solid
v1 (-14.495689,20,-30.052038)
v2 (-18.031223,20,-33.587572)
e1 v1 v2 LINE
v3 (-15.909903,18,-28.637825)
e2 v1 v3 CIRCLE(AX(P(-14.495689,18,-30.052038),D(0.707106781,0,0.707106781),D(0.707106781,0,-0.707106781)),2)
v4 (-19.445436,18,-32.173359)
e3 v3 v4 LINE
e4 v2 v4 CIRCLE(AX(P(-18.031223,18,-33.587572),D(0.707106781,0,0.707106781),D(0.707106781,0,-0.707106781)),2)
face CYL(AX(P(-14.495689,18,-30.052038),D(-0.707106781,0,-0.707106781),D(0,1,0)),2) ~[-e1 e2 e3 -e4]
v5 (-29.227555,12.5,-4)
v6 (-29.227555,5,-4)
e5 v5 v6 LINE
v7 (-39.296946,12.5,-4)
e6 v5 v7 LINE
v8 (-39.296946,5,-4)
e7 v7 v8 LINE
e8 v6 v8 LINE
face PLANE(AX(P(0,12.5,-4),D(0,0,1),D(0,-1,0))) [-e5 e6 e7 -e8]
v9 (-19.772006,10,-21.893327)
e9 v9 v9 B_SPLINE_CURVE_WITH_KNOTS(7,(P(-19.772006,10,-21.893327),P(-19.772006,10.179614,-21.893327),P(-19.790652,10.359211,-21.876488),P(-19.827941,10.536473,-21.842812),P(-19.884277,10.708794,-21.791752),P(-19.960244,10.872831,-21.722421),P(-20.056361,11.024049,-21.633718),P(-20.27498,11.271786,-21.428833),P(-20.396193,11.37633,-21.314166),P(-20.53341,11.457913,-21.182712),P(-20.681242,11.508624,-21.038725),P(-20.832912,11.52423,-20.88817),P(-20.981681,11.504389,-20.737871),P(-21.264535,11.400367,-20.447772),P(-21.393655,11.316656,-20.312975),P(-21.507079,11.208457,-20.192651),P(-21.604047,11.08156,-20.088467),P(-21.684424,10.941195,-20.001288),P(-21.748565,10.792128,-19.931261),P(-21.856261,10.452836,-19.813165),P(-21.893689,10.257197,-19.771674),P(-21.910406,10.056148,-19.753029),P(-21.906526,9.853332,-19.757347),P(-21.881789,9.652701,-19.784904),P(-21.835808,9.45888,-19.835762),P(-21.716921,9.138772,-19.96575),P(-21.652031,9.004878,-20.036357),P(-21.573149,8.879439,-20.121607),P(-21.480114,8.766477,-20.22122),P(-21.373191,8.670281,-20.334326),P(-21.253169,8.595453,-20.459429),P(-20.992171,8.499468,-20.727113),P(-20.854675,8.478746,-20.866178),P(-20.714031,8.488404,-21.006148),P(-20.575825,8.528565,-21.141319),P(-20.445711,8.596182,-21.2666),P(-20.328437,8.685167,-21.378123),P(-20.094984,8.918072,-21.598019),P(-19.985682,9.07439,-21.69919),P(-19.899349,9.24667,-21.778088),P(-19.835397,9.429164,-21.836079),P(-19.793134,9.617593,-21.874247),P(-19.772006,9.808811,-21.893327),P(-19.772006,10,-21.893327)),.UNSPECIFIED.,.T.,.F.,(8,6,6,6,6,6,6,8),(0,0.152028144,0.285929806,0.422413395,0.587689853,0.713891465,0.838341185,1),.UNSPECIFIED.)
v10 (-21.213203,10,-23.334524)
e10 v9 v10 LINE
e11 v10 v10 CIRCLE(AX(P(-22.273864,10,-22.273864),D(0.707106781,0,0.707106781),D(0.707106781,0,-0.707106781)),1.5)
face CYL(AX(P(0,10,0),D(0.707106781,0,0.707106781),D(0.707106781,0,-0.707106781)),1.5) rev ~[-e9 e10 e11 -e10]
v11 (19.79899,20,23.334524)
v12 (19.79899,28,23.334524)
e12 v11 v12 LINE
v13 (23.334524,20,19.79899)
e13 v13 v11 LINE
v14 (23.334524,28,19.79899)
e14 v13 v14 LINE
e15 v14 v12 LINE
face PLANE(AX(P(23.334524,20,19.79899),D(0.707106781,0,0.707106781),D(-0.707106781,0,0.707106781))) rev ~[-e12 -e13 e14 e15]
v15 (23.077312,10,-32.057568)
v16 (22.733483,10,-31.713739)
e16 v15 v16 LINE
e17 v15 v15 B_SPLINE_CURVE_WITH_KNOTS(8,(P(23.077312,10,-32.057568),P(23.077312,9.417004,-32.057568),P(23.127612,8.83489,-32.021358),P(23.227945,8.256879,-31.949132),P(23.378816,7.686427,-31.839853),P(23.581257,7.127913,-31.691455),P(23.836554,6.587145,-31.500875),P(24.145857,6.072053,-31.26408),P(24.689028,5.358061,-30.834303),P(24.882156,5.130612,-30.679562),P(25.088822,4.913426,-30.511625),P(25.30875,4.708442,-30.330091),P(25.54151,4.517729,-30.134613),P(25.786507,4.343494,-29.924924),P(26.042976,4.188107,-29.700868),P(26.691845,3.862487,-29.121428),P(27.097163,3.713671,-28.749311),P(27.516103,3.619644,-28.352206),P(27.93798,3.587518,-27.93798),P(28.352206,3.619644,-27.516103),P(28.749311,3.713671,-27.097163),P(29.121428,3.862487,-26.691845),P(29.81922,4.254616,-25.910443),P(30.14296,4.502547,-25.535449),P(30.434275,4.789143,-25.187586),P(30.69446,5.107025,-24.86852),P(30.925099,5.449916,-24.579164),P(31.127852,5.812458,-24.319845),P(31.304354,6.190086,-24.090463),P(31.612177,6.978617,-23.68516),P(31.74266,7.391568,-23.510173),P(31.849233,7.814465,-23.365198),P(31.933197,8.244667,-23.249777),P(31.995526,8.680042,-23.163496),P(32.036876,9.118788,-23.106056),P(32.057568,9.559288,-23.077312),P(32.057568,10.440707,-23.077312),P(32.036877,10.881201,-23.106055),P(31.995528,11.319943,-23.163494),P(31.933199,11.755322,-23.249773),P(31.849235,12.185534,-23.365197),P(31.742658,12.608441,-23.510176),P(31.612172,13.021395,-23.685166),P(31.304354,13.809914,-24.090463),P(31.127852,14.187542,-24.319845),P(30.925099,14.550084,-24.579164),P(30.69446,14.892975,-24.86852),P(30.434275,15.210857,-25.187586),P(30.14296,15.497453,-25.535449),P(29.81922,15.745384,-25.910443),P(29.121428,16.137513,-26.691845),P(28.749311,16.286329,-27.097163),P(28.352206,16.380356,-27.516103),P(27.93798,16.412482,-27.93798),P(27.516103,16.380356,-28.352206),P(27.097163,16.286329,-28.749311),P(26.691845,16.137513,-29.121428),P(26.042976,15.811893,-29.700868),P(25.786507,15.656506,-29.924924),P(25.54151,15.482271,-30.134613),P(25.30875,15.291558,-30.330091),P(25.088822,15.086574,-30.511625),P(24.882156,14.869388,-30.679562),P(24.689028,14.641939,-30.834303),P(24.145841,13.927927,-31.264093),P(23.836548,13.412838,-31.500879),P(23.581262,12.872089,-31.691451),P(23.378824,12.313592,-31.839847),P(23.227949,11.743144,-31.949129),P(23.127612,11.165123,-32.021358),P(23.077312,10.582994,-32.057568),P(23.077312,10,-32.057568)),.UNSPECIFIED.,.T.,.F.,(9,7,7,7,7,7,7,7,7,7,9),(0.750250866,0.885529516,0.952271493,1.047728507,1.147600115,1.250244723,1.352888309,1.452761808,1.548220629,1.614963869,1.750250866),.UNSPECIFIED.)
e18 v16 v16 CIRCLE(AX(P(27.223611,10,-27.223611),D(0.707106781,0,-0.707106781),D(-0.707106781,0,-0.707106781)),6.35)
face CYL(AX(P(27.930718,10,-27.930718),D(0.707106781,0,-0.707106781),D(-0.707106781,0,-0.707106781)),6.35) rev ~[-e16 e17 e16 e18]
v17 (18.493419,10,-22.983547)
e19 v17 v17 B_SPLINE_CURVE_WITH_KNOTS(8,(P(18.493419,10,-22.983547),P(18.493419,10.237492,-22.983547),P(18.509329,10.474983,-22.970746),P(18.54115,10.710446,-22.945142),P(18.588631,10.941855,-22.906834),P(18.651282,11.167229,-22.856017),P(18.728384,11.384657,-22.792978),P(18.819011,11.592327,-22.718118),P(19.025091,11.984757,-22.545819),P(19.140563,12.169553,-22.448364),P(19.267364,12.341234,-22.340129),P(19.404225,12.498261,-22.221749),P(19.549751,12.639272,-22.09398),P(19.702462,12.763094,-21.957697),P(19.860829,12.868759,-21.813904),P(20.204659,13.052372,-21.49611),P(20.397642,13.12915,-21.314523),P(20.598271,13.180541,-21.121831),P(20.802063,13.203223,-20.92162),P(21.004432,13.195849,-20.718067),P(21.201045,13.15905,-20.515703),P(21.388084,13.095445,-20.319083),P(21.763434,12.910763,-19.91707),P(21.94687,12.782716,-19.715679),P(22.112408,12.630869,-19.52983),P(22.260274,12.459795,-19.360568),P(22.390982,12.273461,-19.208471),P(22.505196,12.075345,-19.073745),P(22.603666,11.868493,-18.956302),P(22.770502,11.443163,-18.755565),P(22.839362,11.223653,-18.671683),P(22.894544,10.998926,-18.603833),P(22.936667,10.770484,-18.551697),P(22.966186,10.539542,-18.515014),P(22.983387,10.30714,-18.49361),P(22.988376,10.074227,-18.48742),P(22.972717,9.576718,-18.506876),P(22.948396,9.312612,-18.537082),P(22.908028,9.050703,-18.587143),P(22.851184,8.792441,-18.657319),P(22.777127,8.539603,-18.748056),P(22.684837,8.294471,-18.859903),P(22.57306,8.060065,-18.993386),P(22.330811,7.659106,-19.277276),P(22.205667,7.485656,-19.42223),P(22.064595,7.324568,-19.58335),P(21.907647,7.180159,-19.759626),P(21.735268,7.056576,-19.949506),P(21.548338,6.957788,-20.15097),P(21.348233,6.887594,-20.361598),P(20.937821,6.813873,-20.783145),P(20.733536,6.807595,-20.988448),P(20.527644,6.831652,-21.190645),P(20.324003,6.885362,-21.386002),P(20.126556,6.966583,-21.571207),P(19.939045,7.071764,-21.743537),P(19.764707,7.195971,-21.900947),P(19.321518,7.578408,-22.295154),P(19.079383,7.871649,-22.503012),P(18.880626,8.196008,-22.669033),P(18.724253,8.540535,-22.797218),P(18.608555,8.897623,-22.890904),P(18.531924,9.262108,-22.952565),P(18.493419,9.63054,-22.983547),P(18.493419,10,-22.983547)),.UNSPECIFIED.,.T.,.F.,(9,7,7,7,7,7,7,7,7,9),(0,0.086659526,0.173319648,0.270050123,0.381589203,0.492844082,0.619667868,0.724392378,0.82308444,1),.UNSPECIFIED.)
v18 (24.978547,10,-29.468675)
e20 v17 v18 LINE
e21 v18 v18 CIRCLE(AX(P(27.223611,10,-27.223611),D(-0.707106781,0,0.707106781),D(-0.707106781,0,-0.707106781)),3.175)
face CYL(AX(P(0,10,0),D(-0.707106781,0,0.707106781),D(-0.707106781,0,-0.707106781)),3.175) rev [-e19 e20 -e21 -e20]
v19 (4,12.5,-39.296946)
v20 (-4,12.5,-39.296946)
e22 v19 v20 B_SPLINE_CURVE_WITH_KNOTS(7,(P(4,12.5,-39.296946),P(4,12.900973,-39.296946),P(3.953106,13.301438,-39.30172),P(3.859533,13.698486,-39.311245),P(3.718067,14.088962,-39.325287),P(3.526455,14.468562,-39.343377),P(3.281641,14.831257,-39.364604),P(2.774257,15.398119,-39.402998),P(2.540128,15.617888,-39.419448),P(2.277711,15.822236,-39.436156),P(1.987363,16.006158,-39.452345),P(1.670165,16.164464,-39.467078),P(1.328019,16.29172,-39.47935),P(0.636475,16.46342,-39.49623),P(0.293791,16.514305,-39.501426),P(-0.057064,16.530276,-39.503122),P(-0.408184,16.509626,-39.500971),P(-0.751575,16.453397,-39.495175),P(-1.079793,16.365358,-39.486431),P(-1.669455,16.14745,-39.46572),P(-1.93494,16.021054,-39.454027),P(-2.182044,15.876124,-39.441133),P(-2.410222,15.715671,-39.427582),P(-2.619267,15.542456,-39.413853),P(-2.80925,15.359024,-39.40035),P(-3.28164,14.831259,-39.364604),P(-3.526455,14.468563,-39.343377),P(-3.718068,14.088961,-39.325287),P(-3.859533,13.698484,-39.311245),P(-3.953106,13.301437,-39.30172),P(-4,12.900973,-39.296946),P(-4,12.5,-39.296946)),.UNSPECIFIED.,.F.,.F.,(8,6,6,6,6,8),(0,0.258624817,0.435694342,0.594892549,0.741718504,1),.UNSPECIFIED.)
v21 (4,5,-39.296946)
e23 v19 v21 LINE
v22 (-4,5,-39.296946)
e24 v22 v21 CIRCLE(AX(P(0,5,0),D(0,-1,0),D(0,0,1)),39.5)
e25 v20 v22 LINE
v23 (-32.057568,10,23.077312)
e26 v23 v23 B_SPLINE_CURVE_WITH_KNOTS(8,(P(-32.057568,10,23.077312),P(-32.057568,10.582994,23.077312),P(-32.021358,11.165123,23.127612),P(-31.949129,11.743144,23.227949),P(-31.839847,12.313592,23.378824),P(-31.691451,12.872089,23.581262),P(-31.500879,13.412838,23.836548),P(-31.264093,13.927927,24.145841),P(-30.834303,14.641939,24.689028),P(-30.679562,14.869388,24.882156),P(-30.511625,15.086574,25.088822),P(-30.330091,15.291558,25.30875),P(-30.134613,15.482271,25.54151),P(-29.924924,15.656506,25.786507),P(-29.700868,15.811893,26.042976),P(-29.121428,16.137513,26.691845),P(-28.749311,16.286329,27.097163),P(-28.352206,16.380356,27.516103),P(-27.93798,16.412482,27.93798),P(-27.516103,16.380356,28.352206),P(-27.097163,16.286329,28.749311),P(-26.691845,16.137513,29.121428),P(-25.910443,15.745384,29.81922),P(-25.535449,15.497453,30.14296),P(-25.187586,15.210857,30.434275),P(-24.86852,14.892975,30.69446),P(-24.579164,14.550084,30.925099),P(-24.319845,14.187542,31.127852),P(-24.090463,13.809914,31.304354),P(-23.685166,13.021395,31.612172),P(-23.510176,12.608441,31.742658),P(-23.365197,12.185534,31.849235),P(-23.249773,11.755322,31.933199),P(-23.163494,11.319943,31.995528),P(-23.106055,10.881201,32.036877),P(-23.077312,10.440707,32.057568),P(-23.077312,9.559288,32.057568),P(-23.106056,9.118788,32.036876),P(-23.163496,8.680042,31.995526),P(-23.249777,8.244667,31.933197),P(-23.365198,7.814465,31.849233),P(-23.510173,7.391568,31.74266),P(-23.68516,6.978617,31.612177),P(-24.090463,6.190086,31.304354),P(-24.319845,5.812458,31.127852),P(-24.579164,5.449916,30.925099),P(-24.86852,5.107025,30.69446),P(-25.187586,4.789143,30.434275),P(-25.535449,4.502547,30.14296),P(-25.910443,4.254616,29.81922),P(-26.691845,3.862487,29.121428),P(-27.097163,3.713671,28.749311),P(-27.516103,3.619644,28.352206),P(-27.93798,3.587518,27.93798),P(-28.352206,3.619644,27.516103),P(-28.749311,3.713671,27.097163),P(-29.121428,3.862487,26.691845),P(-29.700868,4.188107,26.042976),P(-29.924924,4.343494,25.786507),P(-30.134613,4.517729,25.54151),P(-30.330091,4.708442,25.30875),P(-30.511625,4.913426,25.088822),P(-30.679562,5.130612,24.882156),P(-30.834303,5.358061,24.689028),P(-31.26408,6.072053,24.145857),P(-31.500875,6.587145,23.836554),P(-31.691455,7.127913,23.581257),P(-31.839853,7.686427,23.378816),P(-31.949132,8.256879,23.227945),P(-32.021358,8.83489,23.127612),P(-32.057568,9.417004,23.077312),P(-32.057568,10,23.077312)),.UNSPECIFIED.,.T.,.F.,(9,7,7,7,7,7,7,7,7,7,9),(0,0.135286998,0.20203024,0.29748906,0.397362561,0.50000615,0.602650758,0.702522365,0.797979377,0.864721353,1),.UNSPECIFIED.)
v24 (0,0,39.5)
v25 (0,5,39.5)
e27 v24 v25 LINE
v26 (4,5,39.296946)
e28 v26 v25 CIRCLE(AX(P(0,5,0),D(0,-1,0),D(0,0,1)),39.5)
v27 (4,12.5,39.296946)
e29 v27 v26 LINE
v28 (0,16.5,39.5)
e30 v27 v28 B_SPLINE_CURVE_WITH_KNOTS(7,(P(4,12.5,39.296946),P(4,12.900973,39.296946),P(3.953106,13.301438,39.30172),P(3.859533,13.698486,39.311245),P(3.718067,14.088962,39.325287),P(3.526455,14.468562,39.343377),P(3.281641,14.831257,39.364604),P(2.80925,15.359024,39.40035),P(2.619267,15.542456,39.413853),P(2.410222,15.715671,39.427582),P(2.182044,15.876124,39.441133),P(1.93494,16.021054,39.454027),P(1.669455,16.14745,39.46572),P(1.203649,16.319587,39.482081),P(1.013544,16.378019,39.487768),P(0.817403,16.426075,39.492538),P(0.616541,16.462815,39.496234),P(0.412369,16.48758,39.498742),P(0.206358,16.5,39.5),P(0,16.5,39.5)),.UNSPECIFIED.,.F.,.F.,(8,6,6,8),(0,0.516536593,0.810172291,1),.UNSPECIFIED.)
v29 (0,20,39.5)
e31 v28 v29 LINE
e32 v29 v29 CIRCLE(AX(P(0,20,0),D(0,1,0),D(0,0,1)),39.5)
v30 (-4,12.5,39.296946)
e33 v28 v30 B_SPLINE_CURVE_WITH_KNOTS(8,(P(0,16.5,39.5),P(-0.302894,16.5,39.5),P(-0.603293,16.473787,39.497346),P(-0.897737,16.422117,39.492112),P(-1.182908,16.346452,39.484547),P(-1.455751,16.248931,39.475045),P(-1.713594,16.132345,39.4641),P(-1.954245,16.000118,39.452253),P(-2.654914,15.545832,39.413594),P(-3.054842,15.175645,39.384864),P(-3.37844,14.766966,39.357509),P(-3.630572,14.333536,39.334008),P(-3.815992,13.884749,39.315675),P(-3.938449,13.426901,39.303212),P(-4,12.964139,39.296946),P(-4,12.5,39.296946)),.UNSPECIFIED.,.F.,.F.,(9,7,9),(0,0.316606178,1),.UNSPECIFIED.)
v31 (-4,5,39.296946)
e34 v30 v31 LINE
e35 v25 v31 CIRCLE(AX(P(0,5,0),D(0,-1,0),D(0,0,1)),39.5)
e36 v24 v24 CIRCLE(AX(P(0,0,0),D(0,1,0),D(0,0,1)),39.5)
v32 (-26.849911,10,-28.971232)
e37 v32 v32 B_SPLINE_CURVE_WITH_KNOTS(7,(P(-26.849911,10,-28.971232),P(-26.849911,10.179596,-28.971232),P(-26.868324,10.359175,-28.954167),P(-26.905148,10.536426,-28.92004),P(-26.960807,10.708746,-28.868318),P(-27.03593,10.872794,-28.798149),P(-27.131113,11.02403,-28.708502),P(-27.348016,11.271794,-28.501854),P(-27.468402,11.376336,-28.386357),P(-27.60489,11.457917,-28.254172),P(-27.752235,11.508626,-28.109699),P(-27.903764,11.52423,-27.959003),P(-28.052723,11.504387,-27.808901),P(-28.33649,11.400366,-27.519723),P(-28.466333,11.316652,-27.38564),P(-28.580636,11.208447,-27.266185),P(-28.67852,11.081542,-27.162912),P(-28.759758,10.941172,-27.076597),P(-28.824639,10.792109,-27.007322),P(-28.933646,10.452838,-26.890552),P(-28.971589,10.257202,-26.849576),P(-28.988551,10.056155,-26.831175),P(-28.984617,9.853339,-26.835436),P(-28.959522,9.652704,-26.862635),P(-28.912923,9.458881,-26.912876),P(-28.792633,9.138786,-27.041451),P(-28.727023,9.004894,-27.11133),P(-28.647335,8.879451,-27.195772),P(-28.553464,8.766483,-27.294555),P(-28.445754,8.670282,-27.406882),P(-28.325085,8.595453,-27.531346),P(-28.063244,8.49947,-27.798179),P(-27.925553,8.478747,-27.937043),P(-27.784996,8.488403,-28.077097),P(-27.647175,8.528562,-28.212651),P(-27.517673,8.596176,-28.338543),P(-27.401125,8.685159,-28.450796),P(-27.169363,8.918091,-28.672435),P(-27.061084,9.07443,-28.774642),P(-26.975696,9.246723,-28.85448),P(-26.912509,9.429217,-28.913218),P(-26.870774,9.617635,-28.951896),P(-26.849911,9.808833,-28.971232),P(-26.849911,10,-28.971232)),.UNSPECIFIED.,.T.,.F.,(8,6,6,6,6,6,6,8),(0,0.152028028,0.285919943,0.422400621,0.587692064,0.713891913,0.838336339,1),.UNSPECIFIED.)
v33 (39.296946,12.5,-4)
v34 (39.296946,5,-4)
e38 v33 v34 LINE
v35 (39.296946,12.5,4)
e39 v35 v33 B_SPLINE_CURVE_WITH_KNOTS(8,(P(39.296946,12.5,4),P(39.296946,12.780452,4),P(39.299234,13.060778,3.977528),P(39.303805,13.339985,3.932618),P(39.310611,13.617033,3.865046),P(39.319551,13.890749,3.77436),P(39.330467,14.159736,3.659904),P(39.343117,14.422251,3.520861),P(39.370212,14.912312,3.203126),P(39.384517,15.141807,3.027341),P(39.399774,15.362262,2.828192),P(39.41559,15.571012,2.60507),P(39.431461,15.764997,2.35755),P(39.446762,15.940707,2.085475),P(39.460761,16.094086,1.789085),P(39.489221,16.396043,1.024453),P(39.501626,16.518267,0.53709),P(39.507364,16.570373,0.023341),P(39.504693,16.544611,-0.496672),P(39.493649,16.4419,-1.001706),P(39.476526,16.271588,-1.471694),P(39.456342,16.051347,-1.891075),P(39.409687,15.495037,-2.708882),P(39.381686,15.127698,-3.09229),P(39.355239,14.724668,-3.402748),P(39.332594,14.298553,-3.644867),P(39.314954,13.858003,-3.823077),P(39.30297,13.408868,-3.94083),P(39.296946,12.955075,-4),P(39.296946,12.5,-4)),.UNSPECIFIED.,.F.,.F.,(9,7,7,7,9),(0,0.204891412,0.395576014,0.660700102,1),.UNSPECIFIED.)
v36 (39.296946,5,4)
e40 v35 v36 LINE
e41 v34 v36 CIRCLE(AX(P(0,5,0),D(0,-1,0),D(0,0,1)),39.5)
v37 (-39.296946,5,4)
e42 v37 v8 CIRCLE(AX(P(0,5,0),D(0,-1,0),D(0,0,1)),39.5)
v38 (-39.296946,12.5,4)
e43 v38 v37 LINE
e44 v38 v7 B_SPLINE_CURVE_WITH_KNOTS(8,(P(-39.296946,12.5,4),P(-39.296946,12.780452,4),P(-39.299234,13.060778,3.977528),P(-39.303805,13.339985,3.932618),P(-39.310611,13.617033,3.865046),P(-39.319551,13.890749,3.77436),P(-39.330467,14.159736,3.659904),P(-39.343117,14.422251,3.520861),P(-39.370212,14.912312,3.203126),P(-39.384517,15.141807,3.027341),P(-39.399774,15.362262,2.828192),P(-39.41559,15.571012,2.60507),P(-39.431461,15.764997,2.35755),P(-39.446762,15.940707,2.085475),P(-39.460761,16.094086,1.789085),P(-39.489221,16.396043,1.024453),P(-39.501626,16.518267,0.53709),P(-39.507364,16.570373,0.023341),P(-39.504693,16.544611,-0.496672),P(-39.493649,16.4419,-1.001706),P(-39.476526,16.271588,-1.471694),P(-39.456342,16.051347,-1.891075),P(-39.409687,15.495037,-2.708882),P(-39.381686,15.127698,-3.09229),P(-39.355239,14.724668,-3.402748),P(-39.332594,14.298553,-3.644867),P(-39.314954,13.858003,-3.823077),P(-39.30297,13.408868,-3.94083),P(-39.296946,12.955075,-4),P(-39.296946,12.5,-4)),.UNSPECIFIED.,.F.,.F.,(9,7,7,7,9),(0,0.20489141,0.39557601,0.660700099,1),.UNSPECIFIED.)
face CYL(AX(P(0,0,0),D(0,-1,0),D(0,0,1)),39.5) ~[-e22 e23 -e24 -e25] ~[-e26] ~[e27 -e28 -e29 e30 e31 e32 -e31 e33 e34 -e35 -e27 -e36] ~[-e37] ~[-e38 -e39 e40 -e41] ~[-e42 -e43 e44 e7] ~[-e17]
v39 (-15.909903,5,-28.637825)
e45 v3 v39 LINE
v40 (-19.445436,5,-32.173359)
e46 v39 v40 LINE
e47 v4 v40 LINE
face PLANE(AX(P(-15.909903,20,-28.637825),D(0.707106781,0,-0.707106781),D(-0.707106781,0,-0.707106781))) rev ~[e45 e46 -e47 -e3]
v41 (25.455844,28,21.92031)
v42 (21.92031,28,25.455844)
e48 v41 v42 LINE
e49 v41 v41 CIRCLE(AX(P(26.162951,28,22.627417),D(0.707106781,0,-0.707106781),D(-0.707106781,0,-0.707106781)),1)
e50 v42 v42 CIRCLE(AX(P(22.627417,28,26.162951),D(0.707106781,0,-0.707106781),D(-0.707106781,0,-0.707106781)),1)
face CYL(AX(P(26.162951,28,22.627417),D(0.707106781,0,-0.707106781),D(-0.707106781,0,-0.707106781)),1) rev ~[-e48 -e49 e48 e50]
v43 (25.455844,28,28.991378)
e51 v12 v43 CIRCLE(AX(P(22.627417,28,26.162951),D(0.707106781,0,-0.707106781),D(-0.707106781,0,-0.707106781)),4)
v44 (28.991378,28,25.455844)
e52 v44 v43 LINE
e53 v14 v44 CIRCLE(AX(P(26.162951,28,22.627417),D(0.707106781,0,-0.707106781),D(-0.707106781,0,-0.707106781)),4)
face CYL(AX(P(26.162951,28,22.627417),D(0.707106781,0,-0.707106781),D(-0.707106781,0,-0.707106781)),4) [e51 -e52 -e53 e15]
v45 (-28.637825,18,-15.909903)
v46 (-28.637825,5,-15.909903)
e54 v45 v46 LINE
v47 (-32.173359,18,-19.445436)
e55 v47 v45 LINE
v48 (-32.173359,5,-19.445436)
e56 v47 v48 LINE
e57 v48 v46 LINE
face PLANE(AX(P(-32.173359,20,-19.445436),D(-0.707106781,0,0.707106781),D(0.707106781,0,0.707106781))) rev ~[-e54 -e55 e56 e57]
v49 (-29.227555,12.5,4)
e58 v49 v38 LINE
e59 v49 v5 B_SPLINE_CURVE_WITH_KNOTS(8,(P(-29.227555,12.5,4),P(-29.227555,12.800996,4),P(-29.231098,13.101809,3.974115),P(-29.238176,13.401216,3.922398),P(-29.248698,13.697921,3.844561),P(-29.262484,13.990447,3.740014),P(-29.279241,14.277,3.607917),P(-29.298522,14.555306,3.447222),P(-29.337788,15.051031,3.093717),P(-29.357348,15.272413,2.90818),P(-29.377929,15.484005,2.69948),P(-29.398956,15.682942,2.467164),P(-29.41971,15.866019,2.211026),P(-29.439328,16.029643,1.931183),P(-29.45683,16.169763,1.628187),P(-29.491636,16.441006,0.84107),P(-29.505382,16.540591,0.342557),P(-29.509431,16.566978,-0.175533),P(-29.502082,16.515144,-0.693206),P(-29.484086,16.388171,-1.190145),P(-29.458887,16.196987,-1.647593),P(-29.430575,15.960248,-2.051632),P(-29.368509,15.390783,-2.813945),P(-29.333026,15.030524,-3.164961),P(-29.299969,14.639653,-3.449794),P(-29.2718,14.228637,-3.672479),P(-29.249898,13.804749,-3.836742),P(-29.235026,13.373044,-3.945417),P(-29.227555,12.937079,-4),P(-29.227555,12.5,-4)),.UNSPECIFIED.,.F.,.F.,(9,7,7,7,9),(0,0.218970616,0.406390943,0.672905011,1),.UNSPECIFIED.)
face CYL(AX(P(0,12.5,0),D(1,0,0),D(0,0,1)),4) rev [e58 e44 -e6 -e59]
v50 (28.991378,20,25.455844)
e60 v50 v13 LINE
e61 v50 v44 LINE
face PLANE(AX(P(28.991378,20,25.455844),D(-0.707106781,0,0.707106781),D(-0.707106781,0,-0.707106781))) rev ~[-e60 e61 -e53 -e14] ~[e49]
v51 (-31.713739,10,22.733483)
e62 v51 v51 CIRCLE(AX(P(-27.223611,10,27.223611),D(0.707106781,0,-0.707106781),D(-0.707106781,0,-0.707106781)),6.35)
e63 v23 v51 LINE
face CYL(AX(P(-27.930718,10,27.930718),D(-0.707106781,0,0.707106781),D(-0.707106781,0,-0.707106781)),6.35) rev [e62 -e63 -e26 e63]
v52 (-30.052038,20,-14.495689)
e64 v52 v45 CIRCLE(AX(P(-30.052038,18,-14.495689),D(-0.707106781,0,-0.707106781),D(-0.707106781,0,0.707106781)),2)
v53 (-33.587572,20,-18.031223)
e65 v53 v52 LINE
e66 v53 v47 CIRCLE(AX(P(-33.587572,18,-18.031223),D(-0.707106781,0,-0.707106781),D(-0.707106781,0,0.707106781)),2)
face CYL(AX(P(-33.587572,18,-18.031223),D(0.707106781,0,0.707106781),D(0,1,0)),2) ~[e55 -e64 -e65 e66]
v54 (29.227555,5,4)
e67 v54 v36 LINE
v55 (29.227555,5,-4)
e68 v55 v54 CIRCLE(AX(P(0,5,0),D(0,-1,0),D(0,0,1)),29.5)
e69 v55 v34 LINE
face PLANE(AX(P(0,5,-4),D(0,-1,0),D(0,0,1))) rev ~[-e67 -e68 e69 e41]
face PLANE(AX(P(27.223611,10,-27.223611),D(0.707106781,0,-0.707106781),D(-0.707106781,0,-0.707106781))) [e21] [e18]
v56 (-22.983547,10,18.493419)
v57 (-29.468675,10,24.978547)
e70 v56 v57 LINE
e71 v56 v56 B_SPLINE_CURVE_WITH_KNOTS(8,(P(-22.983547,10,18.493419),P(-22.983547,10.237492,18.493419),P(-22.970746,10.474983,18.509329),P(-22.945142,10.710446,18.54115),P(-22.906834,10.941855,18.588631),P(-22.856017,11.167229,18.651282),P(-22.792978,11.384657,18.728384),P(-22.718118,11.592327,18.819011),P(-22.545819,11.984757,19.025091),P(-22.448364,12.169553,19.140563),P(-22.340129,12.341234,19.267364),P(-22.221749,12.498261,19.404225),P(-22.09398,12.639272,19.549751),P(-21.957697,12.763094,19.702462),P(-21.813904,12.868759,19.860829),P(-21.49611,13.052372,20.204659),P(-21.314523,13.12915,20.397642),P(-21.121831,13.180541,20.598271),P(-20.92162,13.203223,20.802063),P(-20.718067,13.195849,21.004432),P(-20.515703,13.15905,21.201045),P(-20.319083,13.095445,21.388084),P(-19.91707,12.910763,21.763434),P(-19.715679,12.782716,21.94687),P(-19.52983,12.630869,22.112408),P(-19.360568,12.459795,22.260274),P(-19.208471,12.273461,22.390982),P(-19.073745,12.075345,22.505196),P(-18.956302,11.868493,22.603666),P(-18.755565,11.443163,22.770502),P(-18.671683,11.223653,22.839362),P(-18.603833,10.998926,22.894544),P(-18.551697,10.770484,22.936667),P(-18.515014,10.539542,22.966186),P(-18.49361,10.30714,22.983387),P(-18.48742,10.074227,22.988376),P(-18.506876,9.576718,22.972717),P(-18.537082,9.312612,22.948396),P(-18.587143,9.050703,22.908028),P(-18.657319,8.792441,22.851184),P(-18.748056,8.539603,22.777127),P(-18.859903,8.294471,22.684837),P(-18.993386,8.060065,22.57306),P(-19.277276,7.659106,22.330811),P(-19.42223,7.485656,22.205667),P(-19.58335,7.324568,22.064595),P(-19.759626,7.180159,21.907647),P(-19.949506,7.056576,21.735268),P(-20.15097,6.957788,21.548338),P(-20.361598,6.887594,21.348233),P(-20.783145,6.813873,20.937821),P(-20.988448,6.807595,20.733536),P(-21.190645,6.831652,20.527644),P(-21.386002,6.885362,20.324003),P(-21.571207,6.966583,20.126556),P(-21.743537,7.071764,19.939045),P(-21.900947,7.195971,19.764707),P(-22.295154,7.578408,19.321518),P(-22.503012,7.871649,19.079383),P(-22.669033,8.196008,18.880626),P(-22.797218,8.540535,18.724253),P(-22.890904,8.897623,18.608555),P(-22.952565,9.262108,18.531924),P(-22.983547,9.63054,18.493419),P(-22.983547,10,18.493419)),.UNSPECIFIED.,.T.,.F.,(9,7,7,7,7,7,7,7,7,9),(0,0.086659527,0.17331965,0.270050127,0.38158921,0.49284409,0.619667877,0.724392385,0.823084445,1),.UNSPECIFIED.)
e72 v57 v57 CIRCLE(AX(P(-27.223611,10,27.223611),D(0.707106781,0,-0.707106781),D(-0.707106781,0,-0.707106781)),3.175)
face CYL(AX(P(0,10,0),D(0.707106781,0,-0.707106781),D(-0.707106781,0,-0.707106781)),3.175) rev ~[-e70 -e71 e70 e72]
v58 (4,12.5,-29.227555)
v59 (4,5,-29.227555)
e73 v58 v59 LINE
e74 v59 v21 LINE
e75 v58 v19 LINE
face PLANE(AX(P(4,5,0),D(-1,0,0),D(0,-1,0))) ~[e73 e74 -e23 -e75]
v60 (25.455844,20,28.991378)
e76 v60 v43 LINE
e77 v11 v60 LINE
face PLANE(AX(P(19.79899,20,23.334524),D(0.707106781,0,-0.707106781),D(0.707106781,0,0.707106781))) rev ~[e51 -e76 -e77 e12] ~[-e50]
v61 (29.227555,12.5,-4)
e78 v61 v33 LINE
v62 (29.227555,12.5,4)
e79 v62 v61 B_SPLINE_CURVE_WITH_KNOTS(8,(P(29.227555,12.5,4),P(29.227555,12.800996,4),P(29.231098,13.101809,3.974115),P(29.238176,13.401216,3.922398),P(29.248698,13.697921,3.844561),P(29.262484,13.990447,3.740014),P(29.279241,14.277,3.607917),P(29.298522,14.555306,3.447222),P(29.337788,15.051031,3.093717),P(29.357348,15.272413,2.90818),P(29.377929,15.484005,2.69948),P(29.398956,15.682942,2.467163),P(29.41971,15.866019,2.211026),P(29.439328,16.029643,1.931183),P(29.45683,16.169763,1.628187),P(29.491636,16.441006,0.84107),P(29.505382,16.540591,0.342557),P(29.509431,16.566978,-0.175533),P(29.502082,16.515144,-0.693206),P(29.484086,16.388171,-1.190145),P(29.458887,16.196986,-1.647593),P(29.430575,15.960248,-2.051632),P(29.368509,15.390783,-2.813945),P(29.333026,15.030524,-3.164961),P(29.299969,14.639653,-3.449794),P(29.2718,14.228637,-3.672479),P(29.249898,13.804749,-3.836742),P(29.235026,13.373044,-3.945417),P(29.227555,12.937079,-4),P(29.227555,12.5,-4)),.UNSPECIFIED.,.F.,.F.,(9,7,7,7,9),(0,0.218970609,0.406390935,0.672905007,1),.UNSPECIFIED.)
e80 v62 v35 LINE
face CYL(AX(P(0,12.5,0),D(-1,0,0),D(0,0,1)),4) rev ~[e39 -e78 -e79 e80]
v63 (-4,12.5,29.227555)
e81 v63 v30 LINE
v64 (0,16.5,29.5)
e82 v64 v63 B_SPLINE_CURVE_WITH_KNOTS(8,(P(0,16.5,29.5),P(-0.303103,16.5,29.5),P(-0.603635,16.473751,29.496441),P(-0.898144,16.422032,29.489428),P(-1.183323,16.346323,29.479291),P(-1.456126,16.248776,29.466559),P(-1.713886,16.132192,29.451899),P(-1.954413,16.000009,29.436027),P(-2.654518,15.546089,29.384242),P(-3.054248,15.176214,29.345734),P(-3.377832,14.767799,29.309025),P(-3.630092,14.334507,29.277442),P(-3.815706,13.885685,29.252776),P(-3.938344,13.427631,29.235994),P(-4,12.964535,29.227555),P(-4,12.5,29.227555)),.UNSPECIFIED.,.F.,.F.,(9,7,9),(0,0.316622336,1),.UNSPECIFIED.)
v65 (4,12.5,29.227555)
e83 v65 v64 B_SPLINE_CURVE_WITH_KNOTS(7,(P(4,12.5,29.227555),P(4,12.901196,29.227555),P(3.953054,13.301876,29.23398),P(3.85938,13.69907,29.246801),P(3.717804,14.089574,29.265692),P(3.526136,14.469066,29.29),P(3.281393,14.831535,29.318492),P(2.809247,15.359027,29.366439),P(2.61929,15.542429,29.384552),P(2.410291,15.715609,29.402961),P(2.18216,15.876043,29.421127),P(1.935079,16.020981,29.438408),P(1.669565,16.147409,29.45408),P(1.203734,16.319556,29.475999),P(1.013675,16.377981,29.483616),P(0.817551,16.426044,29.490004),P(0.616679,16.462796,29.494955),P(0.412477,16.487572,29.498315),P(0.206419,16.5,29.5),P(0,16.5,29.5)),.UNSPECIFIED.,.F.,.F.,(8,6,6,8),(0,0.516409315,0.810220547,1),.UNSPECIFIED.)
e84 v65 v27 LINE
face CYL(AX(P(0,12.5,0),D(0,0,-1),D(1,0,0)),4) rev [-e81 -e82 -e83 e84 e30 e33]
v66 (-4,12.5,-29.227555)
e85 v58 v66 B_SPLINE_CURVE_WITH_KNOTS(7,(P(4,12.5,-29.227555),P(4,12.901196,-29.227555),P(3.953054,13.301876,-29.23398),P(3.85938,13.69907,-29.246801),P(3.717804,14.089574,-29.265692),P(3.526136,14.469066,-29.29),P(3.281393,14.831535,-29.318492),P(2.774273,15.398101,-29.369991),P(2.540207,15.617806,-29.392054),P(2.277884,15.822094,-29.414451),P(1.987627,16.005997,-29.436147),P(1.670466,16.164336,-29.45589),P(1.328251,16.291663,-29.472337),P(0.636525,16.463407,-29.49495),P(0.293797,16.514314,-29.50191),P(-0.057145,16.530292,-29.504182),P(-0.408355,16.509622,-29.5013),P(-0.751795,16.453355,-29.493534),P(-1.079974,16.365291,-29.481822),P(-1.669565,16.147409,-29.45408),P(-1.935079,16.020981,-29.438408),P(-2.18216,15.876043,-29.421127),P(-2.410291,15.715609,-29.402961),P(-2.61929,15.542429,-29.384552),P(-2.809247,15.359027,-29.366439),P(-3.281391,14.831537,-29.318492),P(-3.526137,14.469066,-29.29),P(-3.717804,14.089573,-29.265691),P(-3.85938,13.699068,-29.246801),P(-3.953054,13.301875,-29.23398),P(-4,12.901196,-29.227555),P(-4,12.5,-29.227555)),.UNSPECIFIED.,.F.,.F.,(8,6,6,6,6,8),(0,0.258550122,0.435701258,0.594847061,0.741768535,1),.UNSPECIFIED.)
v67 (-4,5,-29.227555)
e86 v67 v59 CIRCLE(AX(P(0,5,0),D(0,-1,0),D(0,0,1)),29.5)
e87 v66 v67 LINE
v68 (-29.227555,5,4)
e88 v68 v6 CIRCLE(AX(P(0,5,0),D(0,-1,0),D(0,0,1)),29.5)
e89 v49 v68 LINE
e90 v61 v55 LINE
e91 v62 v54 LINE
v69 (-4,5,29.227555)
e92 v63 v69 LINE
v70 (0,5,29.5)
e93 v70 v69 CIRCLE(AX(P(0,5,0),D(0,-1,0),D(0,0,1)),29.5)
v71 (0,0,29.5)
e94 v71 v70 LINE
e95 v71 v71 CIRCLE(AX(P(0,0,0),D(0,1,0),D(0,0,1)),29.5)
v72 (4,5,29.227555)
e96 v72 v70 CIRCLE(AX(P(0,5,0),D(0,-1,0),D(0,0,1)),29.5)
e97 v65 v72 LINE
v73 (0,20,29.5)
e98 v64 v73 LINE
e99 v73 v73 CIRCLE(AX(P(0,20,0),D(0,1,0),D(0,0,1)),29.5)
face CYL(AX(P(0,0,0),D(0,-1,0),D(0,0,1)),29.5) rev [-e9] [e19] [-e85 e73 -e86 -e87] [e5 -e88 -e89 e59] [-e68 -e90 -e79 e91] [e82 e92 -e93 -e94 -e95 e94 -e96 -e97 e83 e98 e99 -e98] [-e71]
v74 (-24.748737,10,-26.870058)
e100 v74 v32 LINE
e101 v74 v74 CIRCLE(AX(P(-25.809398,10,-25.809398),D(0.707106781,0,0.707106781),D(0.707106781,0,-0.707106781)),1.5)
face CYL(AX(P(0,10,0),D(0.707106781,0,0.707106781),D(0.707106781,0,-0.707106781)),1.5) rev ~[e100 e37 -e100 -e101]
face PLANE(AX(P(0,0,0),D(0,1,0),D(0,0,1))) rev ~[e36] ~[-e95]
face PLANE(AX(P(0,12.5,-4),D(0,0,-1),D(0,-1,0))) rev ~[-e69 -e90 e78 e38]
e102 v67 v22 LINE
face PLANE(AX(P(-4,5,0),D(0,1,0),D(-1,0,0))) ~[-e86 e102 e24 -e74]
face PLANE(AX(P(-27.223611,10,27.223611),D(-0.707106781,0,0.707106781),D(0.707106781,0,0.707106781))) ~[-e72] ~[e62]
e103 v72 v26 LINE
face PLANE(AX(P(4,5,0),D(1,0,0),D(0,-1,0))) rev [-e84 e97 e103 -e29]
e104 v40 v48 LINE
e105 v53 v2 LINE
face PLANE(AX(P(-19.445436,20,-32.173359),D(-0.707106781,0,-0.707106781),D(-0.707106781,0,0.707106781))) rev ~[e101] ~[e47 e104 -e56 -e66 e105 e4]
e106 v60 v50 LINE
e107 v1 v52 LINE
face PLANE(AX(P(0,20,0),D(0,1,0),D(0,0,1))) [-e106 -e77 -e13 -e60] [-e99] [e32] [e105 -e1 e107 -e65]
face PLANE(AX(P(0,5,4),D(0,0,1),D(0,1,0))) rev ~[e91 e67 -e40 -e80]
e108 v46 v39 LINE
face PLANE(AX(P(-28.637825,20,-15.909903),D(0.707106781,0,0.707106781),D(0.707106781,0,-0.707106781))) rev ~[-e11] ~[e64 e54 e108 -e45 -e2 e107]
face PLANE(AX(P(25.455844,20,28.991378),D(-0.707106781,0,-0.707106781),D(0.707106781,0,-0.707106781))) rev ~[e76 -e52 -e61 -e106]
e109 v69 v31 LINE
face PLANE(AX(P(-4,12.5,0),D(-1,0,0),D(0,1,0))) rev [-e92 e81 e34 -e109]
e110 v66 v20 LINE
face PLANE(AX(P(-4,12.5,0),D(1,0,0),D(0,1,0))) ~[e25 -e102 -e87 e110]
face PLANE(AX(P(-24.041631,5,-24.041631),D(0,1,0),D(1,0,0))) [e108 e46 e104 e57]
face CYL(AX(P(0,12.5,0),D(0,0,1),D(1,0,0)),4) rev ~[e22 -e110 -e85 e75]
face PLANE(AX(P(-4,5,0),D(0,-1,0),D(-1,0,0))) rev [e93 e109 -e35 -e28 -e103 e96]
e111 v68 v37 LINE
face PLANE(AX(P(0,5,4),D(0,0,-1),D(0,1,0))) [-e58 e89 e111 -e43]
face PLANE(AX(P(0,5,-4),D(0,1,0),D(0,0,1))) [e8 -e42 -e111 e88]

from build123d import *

# Parameters (mm, degrees)
SKETCH1_R               = 39.5
SKETCH1_R_2             = 29.5
BOSS_EXTRUDE1_DEPTH     = 20
CUT_EXTRUDE1_DEPTH      = 60.333801496
CUT_EXTRUDE2_DEPTH      = 60.333801663
CUT_EXTRUDE3_REACH      = 61.334
CUT_EXTRUDE3_END_RADIUS = 39.5
SKETCH4_R               = 3.175
CUT_EXTRUDE4_REACH      = 61.334
CUT_EXTRUDE4_END_RADIUS = 39.5
SKETCH4_2_R             = 3.175
BOSS_EXTRUDE2_DEPTH     = 13
CUT_EXTRUDE7_REACH      = 69.045
CUT_EXTRUDE8_REACH      = 68.559
SKETCH7_R               = 1
SKETCH8_R               = 6.35
CUT_EXTRUDE9_DEPTH      = 1
CUT_EXTRUDE11_DEPTH     = 15
SKETCH10_R              = 1.5
CUT_EXTRUDE12_DEPTH     = 40
FILLET1_R               = 2
FILLET2_R               = 2


with BuildPart() as part:
    # Sketch1 → Boss-Extrude1 (new body)
    with BuildSketch(Plane(origin=(0, 0, 0), x_dir=(1, 0, 0), z_dir=(0, 1, 0))):
        with Locations(Location((0, 0, 0), (0, 0, 270))):
            Circle(SKETCH1_R)
        with Locations(Location((0, 0, 0), (0, 0, 270))):
            Circle(SKETCH1_R_2, mode=Mode.SUBTRACT)
    extrude(amount=BOSS_EXTRUDE1_DEPTH)

    # Sketch2 → Cut-Extrude1 (cut, through all)
    with BuildSketch(Plane(origin=(0, 0, 0), x_dir=(0, 0, -1), z_dir=(1, 0, 0))):
        with BuildLine():
            Line((4, 5), (-4, 5))
            Line((-4, 5), (-4, 12.5))
            ThreePointArc((-4, 12.5), (0, 16.5), (4, 12.5))
            Line((4, 12.5), (4, 5))
        make_face()
    cut_extrude1 = extrude(amount=-CUT_EXTRUDE1_DEPTH, mode=Mode.SUBTRACT)

    # Sketch2<2> → Cut-Extrude2 (cut, through all)
    with BuildSketch(Plane(origin=(0, 0, 0), x_dir=(0, 0, -1), z_dir=(1, 0, 0))):
        with BuildLine():
            Line((4, 5), (-4, 5))
            Line((-4, 5), (-4, 12.5))
            ThreePointArc((-4, 12.5), (0, 16.5), (4, 12.5))
            Line((4, 12.5), (4, 5))
        make_face()
    cut_extrude2 = extrude(amount=CUT_EXTRUDE2_DEPTH, mode=Mode.SUBTRACT)

    # Mirror1: Cut-Extrude1, Cut-Extrude2 across plane
    add(cut_extrude1.mirror(Plane(origin=(0, 0, 0), x_dir=(0.7071067811865478, 0, 0.7071067811865472), z_dir=(0.7071067811865475, 0, -0.7071067811865477))), mode=Mode.SUBTRACT)
    add(cut_extrude2.mirror(Plane(origin=(0, 0, 0), x_dir=(0.7071067811865478, 0, 0.7071067811865472), z_dir=(0.7071067811865475, 0, -0.7071067811865477))), mode=Mode.SUBTRACT)

    # Cut-Extrude3: up to this cylinder (the profile starts inside it)
    cut_extrude3_end = Plane(origin=(0, 10, 0), z_dir=(0, -1, 0)) * Cylinder(CUT_EXTRUDE3_END_RADIUS, 202.668, mode=Mode.PRIVATE)
    # Sketch4 → Cut-Extrude3 (cut, up to the surface)
    with BuildSketch(Plane(origin=(0, 0, 0), x_dir=(-0.7071067811865477, 0, -0.7071067811865475), z_dir=(0.7071067811865475, 0, -0.7071067811865477)), mode=Mode.PRIVATE) as cut_extrude3_sk1:
        with Locations((0, 10)):
            Circle(SKETCH4_R)
    cut_extrude3_tool1 = extrude(cut_extrude3_sk1.sketch, amount=-CUT_EXTRUDE3_REACH, mode=Mode.PRIVATE) & cut_extrude3_end
    add(cut_extrude3_tool1.solids().sort_by_distance((0, 10, 0))[0], mode=Mode.SUBTRACT)

    # Cut-Extrude4: up to this cylinder (the profile starts inside it)
    cut_extrude4_end = Plane(origin=(0, 10, 0), z_dir=(0, -1, 0)) * Cylinder(CUT_EXTRUDE4_END_RADIUS, 202.668, mode=Mode.PRIVATE)
    # Sketch4<2> → Cut-Extrude4 (cut, up to the surface)
    with BuildSketch(Plane(origin=(0, 0, 0), x_dir=(-0.7071067811865477, 0, -0.7071067811865475), z_dir=(0.7071067811865475, 0, -0.7071067811865477)), mode=Mode.PRIVATE) as cut_extrude4_sk1:
        with Locations((0, 10)):
            Circle(SKETCH4_2_R)
    cut_extrude4_tool1 = extrude(cut_extrude4_sk1.sketch, amount=CUT_EXTRUDE4_REACH, mode=Mode.PRIVATE) & cut_extrude4_end
    add(cut_extrude4_tool1.solids().sort_by_distance((0, 10, 0))[0], mode=Mode.SUBTRACT)

    # Sketch5 → Boss-Extrude2 (add)
    with BuildSketch(Plane(origin=(0, 20, 0), x_dir=(1, 0, 0), z_dir=(0, 1, 0))):
        Polygon((25.455844123, -28.991378029), (28.991378029, -25.455844123), (23.334523779, -19.798989873), (19.798989873, -23.334523779), align=None)
    extrude(amount=BOSS_EXTRUDE2_DEPTH)

    # Sketch6 → Cut-Extrude7 (cut, up to next)
    with BuildSketch(Plane(origin=(1.767766953, 0, -1.767766953), x_dir=(-0.7071067811865475, 0, -0.7071067811865477), z_dir=(0.7071067811865477, 0, -0.7071067811865475)), mode=Mode.PRIVATE) as cut_extrude7_sk1:
        with BuildLine():
            Line((-38.5, 28), (-38.5, 33))
            Line((-38.5, 33), (-30.5, 33))
            Line((-30.5, 33), (-30.5, 28))
            ThreePointArc((-30.5, 28), (-34.5, 32), (-38.5, 28))
        make_face()
    cut_extrude7_tool1 = extrude(cut_extrude7_sk1.sketch, amount=-CUT_EXTRUDE7_REACH, mode=Mode.PRIVATE) & part.part
    add(cut_extrude7_tool1.solids().sort_by_distance((26.162951, 32.09434, 22.627417))[0], mode=Mode.SUBTRACT)

    # Sketch7 → Cut-Extrude8 (cut, up to next)
    with BuildSketch(Plane(origin=(1.767766953, 0, -1.767766953), x_dir=(-0.7071067811865475, 0, -0.7071067811865477), z_dir=(0.7071067811865477, 0, -0.7071067811865475)), mode=Mode.PRIVATE) as cut_extrude8_sk1:
        with Locations((-34.5, 28)):
            Circle(SKETCH7_R)
    cut_extrude8_tool1 = extrude(cut_extrude8_sk1.sketch, amount=-CUT_EXTRUDE8_REACH, mode=Mode.PRIVATE) & part.part
    add(cut_extrude8_tool1.solids().sort_by_distance((26.162951, 28, 22.627417))[0], mode=Mode.SUBTRACT)

    # Sketch8 → Cut-Extrude9 (cut)
    with BuildSketch(Plane(origin=(27.930717857, 0, -27.930717857), x_dir=(-0.7071067811865477, 0, -0.7071067811865475), z_dir=(0.7071067811865475, 0, -0.7071067811865477))):
        with Locations((0, 10)):
            Circle(SKETCH8_R)
    cut_extrude9 = extrude(amount=-CUT_EXTRUDE9_DEPTH, mode=Mode.SUBTRACT)

    # Mirror3: Cut-Extrude9 across plane
    add(cut_extrude9.mirror(Plane(origin=(0, 0, 0), x_dir=(0.7071067811865478, 0, 0.7071067811865472), z_dir=(0.7071067811865475, 0, -0.7071067811865477))), mode=Mode.SUBTRACT)

    # Sketch9 → Cut-Extrude11 (cut)
    with BuildSketch(Plane(origin=(0, 20, 0), x_dir=(1, 0, 0), z_dir=(0, 1, 0))):
        Polygon((-19.445436483, 32.173358544), (-32.173358544, 19.445436483), (-28.637824638, 15.909902577), (-15.909902577, 28.637824638), align=None)
    extrude(amount=-CUT_EXTRUDE11_DEPTH, mode=Mode.SUBTRACT)

    # Sketch10 → Cut-Extrude12 (cut)
    with BuildSketch(Plane(origin=(0, 0, 0), x_dir=(0.7071067811865477, 0, -0.7071067811865475), z_dir=(0.7071067811865475, 0, 0.7071067811865477))):
        with Locations((0, 10)):
            Circle(SKETCH10_R)
    extrude(amount=-CUT_EXTRUDE12_DEPTH, mode=Mode.SUBTRACT)

    # Fillet1
    fillet1_edges = [part.edges().sort_by_distance(p)[0] for p in [
        (-17.67766953, 20, -30.405591591),
    ]]
    fillet(fillet1_edges, radius=FILLET1_R)

    # Fillet2
    fillet2_edges = [part.edges().sort_by_distance(p)[0] for p in [
        (-30.405591591, 20, -17.67766953),
    ]]
    fillet(fillet2_edges, radius=FILLET2_R)


solid = part.part
